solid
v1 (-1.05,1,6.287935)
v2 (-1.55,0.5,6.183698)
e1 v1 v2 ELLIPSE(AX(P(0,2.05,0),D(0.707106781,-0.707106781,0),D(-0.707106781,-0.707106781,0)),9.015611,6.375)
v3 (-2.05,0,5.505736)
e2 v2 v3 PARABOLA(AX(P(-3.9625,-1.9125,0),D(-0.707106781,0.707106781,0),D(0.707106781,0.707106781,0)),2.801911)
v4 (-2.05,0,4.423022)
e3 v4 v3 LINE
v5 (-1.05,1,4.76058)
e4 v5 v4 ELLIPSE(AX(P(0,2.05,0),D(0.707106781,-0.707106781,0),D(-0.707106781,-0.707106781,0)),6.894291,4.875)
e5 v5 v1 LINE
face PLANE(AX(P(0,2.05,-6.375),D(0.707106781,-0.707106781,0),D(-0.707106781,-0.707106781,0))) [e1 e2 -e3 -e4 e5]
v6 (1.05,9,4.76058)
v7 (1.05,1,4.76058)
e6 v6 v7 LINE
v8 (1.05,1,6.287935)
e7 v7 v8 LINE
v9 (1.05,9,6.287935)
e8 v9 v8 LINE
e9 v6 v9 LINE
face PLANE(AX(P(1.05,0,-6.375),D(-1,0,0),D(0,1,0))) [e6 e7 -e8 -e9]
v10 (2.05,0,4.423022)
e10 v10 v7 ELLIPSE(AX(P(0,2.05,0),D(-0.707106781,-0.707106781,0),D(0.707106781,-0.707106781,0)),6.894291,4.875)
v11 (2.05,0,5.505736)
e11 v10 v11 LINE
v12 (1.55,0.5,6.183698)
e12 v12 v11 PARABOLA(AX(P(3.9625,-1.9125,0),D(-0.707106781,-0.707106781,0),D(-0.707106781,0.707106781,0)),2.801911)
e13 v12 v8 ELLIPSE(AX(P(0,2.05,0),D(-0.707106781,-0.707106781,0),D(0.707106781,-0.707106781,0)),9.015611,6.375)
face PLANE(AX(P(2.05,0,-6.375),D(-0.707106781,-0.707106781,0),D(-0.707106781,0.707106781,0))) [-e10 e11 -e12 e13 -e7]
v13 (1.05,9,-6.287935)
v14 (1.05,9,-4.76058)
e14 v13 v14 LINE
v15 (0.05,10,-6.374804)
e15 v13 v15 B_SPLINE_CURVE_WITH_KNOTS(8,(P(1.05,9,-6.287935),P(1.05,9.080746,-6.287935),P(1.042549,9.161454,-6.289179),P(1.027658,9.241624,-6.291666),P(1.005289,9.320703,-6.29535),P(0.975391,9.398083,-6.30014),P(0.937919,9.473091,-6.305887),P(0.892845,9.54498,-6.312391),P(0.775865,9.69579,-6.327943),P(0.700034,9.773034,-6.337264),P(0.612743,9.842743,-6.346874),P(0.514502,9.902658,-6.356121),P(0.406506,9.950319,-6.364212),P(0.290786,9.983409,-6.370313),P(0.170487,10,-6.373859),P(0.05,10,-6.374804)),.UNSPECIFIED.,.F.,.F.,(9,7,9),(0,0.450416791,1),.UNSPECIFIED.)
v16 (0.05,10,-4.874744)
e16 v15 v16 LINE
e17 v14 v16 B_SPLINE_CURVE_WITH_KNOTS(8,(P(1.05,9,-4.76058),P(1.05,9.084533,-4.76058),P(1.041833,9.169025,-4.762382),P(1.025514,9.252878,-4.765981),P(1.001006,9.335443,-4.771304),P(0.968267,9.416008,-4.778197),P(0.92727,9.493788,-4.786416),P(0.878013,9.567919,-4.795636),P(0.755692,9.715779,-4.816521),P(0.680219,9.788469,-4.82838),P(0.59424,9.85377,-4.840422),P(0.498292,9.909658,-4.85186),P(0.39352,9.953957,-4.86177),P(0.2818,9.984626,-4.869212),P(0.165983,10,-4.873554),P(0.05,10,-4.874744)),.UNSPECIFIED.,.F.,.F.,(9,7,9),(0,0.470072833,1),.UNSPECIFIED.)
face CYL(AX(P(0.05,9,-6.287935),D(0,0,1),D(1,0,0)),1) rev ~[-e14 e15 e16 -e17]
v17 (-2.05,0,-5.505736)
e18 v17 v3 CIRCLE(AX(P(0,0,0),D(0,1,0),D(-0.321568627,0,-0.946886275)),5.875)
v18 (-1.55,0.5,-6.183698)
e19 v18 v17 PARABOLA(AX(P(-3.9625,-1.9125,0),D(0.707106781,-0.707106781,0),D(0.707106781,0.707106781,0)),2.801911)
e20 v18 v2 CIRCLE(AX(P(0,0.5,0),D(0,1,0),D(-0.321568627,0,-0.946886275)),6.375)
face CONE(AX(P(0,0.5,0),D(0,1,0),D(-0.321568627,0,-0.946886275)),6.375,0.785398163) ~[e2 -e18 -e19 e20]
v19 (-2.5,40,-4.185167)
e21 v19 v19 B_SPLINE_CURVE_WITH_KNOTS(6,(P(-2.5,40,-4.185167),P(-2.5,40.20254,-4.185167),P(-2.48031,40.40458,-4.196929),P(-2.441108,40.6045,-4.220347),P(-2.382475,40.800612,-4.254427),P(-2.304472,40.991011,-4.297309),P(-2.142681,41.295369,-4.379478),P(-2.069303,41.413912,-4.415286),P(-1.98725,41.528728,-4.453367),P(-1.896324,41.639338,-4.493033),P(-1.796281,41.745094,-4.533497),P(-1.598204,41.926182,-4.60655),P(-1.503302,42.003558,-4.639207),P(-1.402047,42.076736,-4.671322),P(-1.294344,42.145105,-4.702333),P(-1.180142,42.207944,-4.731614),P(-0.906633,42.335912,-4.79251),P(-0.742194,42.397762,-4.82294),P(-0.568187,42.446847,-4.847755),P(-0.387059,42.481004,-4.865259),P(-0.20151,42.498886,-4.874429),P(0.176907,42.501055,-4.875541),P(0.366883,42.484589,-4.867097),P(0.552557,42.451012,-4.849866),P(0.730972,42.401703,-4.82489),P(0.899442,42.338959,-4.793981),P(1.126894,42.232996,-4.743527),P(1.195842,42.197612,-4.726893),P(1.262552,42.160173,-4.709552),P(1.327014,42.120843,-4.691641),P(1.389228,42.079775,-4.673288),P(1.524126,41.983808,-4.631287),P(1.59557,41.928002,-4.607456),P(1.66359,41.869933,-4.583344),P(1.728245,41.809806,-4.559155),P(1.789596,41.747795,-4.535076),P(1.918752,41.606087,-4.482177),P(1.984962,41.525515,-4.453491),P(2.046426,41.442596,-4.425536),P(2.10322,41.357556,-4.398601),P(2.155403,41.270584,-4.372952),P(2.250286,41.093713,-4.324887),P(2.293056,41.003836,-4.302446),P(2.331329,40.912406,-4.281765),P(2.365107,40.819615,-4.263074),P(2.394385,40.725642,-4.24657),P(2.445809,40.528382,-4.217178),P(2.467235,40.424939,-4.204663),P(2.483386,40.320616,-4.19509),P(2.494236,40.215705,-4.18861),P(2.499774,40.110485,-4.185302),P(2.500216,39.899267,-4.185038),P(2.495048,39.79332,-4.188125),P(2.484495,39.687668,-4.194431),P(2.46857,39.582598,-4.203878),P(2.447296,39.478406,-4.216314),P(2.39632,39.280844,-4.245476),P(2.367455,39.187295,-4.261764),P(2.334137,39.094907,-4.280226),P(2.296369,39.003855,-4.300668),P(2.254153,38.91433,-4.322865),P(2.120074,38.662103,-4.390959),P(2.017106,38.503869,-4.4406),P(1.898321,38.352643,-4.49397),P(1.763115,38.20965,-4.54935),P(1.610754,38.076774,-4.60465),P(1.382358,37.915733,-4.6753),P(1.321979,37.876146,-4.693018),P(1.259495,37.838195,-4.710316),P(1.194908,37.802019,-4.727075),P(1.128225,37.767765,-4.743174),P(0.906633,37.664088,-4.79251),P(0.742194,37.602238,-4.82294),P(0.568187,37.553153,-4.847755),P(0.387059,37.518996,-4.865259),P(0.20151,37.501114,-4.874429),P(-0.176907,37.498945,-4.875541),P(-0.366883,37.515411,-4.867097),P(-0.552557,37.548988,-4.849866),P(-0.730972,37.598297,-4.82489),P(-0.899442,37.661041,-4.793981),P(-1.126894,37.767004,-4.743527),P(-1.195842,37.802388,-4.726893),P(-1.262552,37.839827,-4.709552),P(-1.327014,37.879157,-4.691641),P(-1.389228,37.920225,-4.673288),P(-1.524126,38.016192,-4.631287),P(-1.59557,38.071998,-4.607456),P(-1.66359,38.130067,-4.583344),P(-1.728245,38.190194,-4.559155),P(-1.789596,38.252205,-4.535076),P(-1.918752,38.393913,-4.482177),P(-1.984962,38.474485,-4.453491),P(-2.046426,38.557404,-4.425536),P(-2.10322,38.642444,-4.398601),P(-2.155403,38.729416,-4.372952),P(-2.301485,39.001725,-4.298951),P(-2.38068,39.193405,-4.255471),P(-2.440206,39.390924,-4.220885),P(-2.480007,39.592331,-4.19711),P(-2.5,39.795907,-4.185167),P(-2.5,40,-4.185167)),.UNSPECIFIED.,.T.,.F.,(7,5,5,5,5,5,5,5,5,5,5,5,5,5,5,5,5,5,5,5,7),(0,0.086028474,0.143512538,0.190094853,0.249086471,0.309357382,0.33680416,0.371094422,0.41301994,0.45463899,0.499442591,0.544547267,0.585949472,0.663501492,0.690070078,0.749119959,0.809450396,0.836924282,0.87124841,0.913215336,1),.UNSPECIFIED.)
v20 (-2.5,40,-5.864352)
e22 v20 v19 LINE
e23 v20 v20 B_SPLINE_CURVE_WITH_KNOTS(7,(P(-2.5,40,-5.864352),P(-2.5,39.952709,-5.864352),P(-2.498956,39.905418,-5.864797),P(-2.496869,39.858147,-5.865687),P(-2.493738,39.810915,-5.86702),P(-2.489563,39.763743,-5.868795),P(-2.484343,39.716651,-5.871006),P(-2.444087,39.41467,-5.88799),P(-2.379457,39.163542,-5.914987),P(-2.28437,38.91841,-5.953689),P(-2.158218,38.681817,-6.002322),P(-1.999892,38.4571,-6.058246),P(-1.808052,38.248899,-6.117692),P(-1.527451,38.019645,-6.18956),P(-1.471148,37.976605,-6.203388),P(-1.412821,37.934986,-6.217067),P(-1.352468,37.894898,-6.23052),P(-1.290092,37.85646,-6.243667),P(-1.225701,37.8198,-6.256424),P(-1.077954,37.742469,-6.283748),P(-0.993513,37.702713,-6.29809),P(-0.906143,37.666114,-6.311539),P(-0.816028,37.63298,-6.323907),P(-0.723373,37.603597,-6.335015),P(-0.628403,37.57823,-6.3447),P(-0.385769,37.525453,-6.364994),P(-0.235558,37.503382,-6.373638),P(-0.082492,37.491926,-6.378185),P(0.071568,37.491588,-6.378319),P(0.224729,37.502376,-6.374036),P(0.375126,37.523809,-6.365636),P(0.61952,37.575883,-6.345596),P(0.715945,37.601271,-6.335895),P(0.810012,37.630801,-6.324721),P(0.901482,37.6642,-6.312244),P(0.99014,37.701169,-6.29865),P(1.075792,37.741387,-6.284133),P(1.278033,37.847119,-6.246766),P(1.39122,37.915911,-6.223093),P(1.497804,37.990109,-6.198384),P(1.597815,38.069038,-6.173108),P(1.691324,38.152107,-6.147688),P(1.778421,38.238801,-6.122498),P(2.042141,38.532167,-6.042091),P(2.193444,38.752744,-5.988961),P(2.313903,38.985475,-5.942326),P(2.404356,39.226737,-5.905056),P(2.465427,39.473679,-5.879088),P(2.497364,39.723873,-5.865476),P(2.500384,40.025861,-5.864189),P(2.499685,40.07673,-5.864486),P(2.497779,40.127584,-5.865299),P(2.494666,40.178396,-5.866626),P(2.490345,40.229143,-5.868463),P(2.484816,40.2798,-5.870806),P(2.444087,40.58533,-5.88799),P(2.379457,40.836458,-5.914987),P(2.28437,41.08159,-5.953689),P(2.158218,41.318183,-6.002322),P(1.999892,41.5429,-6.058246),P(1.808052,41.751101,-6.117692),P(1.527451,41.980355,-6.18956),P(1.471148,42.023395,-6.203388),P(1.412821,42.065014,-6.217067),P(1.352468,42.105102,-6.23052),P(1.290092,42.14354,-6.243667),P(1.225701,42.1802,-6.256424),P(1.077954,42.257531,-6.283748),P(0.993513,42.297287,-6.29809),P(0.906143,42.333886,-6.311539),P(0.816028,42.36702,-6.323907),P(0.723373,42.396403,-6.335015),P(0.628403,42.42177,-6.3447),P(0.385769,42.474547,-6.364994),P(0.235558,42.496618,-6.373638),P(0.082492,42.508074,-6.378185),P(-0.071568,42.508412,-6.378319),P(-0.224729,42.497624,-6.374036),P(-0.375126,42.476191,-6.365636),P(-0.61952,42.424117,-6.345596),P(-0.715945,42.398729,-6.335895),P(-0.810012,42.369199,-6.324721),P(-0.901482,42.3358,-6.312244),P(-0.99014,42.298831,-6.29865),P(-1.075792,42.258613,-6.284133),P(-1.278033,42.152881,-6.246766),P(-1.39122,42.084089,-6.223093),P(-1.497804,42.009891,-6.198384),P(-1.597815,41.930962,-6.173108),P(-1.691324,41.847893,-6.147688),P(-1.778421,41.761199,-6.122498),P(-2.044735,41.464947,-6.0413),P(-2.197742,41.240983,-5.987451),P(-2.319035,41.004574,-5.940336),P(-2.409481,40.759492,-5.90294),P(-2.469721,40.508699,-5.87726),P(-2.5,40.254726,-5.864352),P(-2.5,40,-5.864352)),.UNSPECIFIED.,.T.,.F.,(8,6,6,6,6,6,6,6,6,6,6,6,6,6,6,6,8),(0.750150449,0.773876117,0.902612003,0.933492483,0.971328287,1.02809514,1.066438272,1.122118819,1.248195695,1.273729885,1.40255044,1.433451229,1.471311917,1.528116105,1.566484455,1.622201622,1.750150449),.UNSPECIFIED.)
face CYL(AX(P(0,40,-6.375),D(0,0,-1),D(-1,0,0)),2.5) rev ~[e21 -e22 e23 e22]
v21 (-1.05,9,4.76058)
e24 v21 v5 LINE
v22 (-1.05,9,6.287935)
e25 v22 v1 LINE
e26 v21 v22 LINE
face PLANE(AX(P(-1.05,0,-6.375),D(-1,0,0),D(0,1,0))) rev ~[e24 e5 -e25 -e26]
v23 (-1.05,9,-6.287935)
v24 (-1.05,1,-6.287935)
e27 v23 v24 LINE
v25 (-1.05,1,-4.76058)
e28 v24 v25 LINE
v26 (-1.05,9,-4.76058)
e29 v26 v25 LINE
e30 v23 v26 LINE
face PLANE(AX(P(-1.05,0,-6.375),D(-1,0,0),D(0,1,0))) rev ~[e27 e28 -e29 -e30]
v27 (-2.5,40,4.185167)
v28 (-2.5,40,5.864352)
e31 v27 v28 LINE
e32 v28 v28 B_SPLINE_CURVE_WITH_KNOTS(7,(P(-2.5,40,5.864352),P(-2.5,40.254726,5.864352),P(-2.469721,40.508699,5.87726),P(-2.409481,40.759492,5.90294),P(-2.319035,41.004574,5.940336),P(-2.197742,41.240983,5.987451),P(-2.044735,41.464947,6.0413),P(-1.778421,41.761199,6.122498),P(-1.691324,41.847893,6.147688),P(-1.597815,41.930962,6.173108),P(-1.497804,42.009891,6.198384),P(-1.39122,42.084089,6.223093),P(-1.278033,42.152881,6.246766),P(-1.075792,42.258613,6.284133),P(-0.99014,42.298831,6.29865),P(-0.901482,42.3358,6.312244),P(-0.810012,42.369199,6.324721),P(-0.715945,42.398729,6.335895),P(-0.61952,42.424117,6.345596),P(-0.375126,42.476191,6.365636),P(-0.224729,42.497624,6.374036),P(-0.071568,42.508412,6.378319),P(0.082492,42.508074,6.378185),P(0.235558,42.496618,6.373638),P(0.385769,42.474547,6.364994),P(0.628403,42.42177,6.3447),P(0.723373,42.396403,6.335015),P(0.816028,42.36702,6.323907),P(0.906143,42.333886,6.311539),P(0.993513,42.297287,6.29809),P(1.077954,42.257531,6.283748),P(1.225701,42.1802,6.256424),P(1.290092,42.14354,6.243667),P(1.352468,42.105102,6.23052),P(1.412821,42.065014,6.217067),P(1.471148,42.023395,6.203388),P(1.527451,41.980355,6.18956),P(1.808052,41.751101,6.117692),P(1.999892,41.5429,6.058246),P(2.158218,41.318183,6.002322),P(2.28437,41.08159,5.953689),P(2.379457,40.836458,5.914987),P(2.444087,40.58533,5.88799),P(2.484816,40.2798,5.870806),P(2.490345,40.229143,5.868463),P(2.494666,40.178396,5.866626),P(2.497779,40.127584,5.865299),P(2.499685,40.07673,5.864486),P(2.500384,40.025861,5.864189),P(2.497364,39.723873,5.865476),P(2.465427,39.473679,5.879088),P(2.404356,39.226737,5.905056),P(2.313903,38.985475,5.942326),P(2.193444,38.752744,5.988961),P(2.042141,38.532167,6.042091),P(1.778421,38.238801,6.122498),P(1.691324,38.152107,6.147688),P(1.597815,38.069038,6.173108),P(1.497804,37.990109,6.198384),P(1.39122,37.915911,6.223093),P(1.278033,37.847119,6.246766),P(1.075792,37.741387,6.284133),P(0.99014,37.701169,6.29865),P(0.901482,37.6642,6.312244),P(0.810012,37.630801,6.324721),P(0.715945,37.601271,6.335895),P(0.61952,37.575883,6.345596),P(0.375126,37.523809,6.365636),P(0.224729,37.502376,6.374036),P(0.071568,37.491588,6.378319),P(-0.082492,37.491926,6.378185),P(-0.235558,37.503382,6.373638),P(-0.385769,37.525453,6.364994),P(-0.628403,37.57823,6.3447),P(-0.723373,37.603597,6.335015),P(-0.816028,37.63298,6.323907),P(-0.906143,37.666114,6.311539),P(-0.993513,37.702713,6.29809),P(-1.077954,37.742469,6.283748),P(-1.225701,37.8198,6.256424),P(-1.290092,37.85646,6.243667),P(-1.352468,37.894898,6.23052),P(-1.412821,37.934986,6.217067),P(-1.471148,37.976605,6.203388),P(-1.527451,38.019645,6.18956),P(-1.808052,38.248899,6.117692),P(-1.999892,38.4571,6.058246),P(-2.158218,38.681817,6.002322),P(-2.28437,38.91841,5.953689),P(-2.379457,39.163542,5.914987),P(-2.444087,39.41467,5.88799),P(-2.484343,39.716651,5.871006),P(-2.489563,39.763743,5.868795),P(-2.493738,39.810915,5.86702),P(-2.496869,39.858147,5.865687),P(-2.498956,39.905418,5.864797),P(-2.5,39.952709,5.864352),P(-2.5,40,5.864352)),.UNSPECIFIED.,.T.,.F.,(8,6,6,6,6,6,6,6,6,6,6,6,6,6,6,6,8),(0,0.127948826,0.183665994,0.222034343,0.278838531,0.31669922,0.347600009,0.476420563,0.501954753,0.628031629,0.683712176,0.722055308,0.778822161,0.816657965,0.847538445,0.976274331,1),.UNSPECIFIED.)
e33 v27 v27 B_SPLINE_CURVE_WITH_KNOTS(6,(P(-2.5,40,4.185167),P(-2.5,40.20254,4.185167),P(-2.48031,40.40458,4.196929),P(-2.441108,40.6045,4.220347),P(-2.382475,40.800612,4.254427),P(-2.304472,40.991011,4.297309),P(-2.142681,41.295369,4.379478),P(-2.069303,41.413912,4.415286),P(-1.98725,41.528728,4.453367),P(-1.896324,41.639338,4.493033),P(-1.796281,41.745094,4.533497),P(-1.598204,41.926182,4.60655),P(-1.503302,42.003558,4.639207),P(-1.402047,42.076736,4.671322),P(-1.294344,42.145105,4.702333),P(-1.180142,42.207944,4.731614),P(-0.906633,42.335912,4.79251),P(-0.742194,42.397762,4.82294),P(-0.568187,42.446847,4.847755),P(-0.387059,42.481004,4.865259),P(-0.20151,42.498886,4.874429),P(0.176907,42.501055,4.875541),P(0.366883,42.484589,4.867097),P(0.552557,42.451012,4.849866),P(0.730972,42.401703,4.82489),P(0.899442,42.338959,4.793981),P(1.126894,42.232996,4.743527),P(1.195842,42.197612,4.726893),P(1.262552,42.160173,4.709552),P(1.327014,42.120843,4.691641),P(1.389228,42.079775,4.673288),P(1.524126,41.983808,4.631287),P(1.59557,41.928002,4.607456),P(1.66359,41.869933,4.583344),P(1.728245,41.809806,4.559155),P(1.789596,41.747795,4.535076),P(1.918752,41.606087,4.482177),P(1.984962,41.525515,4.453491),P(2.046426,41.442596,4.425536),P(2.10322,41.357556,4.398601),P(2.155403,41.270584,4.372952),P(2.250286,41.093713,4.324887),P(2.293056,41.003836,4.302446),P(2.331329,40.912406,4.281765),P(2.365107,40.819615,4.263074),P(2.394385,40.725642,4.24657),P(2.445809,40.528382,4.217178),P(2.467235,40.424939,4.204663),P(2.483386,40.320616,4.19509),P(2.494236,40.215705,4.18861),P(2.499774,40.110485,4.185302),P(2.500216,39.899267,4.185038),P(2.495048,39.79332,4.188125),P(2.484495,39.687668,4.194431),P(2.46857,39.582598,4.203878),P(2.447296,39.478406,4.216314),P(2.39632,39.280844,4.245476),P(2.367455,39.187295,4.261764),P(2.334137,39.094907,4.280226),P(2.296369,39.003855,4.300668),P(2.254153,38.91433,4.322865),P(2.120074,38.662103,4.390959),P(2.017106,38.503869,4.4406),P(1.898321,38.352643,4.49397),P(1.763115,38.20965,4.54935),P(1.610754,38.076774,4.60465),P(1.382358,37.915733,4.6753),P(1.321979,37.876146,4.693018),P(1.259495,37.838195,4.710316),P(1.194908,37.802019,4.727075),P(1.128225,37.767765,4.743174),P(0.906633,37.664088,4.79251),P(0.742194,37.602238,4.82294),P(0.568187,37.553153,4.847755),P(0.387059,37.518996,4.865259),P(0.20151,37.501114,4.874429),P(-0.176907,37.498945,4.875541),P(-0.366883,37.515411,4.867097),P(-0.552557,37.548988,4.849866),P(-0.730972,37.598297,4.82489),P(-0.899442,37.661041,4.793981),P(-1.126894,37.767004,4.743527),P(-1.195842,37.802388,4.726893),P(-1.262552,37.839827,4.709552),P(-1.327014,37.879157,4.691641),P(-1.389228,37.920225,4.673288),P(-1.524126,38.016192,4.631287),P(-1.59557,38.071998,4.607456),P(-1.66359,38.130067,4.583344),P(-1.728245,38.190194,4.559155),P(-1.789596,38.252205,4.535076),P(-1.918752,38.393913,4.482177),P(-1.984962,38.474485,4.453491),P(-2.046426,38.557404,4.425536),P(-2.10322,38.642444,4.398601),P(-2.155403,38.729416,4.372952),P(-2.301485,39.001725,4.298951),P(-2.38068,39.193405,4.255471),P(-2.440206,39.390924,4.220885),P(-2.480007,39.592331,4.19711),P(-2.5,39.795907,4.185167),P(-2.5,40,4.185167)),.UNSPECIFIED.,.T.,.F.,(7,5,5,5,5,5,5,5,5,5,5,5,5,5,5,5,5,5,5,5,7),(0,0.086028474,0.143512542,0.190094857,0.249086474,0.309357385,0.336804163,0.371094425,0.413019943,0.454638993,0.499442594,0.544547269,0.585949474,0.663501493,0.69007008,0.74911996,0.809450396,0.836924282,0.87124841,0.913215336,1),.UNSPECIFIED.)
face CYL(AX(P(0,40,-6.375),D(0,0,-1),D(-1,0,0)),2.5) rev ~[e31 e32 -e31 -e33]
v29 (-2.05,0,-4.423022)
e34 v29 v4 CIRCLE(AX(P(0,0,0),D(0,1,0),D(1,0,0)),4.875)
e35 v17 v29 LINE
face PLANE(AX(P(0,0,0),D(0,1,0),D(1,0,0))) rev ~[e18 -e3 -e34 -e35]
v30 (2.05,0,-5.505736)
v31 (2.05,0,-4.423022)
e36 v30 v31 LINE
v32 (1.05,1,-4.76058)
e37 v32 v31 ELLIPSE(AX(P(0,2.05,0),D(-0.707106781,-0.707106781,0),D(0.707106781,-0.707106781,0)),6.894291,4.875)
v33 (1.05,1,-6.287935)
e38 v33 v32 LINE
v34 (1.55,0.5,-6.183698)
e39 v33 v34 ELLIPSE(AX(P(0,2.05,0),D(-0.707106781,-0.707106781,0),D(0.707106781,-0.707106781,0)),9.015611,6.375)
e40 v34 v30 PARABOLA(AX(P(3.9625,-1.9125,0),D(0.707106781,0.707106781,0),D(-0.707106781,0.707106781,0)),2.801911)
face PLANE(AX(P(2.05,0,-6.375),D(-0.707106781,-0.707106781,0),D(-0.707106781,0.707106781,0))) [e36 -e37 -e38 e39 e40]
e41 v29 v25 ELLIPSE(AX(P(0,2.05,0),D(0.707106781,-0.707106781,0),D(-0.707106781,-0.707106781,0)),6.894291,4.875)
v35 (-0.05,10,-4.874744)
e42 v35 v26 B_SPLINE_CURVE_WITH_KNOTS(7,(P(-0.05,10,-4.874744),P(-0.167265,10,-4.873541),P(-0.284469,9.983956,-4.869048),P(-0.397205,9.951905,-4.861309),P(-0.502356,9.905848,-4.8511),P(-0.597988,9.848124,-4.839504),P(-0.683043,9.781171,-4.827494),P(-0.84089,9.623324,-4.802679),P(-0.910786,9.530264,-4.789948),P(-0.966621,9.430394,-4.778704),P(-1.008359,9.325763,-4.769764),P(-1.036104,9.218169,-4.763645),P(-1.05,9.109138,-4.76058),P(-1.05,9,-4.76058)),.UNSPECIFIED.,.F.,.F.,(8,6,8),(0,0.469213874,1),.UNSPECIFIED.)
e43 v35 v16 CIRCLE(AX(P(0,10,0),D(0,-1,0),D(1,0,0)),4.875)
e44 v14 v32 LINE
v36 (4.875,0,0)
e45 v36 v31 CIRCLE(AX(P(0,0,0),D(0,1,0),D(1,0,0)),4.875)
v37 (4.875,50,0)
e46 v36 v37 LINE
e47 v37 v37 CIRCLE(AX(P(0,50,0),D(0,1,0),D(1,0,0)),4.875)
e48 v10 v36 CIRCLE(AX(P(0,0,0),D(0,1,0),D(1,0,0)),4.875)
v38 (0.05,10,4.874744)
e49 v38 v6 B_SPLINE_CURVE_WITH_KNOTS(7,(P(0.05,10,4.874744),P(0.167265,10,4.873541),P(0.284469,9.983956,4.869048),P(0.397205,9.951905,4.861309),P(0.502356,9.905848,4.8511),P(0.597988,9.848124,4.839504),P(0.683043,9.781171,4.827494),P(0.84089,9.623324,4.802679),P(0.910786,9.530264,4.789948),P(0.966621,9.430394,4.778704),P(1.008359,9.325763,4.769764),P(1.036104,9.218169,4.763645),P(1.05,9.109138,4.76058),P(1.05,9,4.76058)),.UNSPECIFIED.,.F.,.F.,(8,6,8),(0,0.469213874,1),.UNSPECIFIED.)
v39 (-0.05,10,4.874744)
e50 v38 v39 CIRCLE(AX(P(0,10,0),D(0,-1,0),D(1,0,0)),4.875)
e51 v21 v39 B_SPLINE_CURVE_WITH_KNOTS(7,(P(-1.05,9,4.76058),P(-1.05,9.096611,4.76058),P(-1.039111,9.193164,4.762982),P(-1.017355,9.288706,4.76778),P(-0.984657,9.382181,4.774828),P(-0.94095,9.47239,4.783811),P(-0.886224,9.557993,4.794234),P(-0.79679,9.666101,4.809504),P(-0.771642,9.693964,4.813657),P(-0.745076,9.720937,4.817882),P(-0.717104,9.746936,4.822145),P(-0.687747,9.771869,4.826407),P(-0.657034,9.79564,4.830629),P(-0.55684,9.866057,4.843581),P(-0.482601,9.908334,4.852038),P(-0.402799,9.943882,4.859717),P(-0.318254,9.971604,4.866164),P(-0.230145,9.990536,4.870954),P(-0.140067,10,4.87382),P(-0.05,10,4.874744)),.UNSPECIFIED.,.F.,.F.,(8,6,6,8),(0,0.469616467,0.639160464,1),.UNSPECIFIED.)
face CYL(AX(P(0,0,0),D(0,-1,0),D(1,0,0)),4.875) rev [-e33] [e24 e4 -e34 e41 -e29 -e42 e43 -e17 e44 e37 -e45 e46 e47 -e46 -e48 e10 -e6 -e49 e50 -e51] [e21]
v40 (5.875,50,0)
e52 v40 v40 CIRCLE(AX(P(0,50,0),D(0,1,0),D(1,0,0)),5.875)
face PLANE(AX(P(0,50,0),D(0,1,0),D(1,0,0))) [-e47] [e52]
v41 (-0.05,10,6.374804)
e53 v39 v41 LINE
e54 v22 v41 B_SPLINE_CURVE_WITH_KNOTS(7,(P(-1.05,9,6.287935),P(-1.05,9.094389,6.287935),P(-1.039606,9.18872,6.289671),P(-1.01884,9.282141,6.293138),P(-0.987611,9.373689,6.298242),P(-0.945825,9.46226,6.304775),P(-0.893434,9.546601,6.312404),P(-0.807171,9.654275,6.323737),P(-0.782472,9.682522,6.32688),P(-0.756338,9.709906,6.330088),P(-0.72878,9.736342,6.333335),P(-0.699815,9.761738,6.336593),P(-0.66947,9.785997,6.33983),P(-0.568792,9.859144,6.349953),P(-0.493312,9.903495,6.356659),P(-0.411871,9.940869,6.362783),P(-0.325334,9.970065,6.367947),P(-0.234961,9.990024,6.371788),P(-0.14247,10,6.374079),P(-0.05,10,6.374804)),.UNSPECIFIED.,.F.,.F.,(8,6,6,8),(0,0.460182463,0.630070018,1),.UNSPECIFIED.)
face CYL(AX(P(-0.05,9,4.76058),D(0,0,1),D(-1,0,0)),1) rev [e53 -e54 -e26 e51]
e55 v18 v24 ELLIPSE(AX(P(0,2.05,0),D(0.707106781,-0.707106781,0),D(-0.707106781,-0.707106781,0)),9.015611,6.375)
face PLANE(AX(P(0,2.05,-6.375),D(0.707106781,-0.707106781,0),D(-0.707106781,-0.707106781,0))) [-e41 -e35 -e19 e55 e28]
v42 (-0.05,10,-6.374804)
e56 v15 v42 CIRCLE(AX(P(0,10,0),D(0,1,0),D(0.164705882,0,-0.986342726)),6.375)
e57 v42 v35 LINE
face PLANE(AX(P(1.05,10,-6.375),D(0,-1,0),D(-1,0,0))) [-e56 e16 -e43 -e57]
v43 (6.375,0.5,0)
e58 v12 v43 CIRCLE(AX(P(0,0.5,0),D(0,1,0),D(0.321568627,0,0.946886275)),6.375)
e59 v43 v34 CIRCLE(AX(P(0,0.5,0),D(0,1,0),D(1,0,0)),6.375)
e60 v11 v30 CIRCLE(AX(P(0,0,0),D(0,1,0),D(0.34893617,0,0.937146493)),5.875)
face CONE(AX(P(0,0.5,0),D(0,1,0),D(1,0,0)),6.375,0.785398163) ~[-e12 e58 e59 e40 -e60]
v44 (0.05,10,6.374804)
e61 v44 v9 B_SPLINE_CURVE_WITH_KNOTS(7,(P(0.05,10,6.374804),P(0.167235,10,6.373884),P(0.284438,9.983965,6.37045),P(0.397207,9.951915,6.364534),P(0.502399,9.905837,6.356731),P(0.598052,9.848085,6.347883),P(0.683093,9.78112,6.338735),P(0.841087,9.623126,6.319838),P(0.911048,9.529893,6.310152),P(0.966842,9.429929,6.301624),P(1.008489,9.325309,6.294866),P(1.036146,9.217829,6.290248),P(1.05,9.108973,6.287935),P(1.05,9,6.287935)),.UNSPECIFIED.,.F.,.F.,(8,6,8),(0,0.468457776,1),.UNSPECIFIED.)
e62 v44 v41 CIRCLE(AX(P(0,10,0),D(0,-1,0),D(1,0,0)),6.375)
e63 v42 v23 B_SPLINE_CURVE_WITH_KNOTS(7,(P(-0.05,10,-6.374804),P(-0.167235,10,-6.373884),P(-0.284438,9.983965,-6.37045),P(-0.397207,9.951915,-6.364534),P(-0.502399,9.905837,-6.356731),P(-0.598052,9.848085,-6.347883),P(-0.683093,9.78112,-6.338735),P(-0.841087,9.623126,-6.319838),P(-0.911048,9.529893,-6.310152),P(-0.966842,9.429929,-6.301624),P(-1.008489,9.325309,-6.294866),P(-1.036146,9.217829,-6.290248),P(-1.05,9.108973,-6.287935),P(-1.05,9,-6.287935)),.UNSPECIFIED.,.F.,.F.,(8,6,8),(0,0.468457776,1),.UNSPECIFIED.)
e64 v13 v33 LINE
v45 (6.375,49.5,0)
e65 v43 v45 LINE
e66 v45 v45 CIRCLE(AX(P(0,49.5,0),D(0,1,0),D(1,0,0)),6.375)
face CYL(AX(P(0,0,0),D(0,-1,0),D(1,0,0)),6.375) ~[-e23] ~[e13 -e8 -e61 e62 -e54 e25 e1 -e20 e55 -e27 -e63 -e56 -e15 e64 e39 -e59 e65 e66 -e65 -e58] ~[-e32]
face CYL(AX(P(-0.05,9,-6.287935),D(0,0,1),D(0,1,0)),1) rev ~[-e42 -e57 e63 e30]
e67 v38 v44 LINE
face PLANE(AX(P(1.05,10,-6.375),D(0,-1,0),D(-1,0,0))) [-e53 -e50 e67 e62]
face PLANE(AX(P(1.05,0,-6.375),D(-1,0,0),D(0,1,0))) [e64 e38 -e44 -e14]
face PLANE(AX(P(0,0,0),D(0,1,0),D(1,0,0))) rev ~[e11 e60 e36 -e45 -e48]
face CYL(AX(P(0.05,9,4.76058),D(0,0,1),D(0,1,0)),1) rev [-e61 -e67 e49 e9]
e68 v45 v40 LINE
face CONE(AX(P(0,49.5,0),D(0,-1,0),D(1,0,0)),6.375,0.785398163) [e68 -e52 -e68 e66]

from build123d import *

# Parameters (mm, degrees)
SKETCH1_R           = 6.375
SKETCH1_R_2         = 4.875
BOSS_EXTRUDE1_DEPTH = 50
SKETCH2_W           = 2.1
SKETCH2_H           = 10
CUT_EXTRUDE1_DEPTH  = 52.992337176
CUT_EXTRUDE2_DEPTH  = 52.992337176
FILLET1_R           = 1
CHAMFER1_SIZE       = 0.5
SKETCH4_R           = 2.5
CUT_EXTRUDE3_DEPTH  = 52.992337309


with BuildPart() as part:
    # Sketch1 → Boss-Extrude1 (new body)
    with BuildSketch(Plane(origin=(0, 0, 0), x_dir=(1, 0, 0), z_dir=(0, 1, 0))):
        Circle(SKETCH1_R)
        Circle(SKETCH1_R_2, mode=Mode.SUBTRACT)
    extrude(amount=BOSS_EXTRUDE1_DEPTH)

    # Sketch2 → Cut-Extrude1 (cut, through all)
    with BuildSketch(Plane(origin=(0, 0, -6.375), x_dir=(-1, 0, 0), z_dir=(0, 0, -1))):
        with Locations((0, 5)):
            Rectangle(SKETCH2_W, SKETCH2_H)
    extrude(amount=-CUT_EXTRUDE1_DEPTH, mode=Mode.SUBTRACT)

    # Sketch3 → Cut-Extrude2 (cut, through all)
    with BuildSketch(Plane(origin=(0, 0, -6.375), x_dir=(-1, 0, 0), z_dir=(0, 0, -1))):
        Polygon((2.05, 0), (-2.05, 0), (0, 2.05), align=None)
    extrude(amount=-CUT_EXTRUDE2_DEPTH, mode=Mode.SUBTRACT)

    # Fillet1
    fillet1_edges = [part.edges().sort_by_distance(p)[0] for p in [
        (1.05, 10, 5.524257599),
        (-1.05, 10, 5.524257599),
        (1.05, 10, -5.524257599),
        (-1.05, 10, -5.524257599),
    ]]
    fillet(fillet1_edges, radius=FILLET1_R)

    # Chamfer1
    chamfer1_edges = [part.edges().sort_by_distance(p)[0] for p in [
        (5.182150857, 0, 3.712941893),
        (-6.375, 0, 0),
        (-6.375, 50, 0),
    ]]
    chamfer(chamfer1_edges, length=CHAMFER1_SIZE)

    # Sketch4 → Cut-Extrude3 (cut, through all)
    with BuildSketch(Plane(origin=(0, 0, -6.375), x_dir=(-1, 0, 0), z_dir=(0, 0, -1))):
        with Locations((0, 40)):
            Circle(SKETCH4_R)
    extrude(amount=-CUT_EXTRUDE3_DEPTH, mode=Mode.SUBTRACT)


solid = part.part
